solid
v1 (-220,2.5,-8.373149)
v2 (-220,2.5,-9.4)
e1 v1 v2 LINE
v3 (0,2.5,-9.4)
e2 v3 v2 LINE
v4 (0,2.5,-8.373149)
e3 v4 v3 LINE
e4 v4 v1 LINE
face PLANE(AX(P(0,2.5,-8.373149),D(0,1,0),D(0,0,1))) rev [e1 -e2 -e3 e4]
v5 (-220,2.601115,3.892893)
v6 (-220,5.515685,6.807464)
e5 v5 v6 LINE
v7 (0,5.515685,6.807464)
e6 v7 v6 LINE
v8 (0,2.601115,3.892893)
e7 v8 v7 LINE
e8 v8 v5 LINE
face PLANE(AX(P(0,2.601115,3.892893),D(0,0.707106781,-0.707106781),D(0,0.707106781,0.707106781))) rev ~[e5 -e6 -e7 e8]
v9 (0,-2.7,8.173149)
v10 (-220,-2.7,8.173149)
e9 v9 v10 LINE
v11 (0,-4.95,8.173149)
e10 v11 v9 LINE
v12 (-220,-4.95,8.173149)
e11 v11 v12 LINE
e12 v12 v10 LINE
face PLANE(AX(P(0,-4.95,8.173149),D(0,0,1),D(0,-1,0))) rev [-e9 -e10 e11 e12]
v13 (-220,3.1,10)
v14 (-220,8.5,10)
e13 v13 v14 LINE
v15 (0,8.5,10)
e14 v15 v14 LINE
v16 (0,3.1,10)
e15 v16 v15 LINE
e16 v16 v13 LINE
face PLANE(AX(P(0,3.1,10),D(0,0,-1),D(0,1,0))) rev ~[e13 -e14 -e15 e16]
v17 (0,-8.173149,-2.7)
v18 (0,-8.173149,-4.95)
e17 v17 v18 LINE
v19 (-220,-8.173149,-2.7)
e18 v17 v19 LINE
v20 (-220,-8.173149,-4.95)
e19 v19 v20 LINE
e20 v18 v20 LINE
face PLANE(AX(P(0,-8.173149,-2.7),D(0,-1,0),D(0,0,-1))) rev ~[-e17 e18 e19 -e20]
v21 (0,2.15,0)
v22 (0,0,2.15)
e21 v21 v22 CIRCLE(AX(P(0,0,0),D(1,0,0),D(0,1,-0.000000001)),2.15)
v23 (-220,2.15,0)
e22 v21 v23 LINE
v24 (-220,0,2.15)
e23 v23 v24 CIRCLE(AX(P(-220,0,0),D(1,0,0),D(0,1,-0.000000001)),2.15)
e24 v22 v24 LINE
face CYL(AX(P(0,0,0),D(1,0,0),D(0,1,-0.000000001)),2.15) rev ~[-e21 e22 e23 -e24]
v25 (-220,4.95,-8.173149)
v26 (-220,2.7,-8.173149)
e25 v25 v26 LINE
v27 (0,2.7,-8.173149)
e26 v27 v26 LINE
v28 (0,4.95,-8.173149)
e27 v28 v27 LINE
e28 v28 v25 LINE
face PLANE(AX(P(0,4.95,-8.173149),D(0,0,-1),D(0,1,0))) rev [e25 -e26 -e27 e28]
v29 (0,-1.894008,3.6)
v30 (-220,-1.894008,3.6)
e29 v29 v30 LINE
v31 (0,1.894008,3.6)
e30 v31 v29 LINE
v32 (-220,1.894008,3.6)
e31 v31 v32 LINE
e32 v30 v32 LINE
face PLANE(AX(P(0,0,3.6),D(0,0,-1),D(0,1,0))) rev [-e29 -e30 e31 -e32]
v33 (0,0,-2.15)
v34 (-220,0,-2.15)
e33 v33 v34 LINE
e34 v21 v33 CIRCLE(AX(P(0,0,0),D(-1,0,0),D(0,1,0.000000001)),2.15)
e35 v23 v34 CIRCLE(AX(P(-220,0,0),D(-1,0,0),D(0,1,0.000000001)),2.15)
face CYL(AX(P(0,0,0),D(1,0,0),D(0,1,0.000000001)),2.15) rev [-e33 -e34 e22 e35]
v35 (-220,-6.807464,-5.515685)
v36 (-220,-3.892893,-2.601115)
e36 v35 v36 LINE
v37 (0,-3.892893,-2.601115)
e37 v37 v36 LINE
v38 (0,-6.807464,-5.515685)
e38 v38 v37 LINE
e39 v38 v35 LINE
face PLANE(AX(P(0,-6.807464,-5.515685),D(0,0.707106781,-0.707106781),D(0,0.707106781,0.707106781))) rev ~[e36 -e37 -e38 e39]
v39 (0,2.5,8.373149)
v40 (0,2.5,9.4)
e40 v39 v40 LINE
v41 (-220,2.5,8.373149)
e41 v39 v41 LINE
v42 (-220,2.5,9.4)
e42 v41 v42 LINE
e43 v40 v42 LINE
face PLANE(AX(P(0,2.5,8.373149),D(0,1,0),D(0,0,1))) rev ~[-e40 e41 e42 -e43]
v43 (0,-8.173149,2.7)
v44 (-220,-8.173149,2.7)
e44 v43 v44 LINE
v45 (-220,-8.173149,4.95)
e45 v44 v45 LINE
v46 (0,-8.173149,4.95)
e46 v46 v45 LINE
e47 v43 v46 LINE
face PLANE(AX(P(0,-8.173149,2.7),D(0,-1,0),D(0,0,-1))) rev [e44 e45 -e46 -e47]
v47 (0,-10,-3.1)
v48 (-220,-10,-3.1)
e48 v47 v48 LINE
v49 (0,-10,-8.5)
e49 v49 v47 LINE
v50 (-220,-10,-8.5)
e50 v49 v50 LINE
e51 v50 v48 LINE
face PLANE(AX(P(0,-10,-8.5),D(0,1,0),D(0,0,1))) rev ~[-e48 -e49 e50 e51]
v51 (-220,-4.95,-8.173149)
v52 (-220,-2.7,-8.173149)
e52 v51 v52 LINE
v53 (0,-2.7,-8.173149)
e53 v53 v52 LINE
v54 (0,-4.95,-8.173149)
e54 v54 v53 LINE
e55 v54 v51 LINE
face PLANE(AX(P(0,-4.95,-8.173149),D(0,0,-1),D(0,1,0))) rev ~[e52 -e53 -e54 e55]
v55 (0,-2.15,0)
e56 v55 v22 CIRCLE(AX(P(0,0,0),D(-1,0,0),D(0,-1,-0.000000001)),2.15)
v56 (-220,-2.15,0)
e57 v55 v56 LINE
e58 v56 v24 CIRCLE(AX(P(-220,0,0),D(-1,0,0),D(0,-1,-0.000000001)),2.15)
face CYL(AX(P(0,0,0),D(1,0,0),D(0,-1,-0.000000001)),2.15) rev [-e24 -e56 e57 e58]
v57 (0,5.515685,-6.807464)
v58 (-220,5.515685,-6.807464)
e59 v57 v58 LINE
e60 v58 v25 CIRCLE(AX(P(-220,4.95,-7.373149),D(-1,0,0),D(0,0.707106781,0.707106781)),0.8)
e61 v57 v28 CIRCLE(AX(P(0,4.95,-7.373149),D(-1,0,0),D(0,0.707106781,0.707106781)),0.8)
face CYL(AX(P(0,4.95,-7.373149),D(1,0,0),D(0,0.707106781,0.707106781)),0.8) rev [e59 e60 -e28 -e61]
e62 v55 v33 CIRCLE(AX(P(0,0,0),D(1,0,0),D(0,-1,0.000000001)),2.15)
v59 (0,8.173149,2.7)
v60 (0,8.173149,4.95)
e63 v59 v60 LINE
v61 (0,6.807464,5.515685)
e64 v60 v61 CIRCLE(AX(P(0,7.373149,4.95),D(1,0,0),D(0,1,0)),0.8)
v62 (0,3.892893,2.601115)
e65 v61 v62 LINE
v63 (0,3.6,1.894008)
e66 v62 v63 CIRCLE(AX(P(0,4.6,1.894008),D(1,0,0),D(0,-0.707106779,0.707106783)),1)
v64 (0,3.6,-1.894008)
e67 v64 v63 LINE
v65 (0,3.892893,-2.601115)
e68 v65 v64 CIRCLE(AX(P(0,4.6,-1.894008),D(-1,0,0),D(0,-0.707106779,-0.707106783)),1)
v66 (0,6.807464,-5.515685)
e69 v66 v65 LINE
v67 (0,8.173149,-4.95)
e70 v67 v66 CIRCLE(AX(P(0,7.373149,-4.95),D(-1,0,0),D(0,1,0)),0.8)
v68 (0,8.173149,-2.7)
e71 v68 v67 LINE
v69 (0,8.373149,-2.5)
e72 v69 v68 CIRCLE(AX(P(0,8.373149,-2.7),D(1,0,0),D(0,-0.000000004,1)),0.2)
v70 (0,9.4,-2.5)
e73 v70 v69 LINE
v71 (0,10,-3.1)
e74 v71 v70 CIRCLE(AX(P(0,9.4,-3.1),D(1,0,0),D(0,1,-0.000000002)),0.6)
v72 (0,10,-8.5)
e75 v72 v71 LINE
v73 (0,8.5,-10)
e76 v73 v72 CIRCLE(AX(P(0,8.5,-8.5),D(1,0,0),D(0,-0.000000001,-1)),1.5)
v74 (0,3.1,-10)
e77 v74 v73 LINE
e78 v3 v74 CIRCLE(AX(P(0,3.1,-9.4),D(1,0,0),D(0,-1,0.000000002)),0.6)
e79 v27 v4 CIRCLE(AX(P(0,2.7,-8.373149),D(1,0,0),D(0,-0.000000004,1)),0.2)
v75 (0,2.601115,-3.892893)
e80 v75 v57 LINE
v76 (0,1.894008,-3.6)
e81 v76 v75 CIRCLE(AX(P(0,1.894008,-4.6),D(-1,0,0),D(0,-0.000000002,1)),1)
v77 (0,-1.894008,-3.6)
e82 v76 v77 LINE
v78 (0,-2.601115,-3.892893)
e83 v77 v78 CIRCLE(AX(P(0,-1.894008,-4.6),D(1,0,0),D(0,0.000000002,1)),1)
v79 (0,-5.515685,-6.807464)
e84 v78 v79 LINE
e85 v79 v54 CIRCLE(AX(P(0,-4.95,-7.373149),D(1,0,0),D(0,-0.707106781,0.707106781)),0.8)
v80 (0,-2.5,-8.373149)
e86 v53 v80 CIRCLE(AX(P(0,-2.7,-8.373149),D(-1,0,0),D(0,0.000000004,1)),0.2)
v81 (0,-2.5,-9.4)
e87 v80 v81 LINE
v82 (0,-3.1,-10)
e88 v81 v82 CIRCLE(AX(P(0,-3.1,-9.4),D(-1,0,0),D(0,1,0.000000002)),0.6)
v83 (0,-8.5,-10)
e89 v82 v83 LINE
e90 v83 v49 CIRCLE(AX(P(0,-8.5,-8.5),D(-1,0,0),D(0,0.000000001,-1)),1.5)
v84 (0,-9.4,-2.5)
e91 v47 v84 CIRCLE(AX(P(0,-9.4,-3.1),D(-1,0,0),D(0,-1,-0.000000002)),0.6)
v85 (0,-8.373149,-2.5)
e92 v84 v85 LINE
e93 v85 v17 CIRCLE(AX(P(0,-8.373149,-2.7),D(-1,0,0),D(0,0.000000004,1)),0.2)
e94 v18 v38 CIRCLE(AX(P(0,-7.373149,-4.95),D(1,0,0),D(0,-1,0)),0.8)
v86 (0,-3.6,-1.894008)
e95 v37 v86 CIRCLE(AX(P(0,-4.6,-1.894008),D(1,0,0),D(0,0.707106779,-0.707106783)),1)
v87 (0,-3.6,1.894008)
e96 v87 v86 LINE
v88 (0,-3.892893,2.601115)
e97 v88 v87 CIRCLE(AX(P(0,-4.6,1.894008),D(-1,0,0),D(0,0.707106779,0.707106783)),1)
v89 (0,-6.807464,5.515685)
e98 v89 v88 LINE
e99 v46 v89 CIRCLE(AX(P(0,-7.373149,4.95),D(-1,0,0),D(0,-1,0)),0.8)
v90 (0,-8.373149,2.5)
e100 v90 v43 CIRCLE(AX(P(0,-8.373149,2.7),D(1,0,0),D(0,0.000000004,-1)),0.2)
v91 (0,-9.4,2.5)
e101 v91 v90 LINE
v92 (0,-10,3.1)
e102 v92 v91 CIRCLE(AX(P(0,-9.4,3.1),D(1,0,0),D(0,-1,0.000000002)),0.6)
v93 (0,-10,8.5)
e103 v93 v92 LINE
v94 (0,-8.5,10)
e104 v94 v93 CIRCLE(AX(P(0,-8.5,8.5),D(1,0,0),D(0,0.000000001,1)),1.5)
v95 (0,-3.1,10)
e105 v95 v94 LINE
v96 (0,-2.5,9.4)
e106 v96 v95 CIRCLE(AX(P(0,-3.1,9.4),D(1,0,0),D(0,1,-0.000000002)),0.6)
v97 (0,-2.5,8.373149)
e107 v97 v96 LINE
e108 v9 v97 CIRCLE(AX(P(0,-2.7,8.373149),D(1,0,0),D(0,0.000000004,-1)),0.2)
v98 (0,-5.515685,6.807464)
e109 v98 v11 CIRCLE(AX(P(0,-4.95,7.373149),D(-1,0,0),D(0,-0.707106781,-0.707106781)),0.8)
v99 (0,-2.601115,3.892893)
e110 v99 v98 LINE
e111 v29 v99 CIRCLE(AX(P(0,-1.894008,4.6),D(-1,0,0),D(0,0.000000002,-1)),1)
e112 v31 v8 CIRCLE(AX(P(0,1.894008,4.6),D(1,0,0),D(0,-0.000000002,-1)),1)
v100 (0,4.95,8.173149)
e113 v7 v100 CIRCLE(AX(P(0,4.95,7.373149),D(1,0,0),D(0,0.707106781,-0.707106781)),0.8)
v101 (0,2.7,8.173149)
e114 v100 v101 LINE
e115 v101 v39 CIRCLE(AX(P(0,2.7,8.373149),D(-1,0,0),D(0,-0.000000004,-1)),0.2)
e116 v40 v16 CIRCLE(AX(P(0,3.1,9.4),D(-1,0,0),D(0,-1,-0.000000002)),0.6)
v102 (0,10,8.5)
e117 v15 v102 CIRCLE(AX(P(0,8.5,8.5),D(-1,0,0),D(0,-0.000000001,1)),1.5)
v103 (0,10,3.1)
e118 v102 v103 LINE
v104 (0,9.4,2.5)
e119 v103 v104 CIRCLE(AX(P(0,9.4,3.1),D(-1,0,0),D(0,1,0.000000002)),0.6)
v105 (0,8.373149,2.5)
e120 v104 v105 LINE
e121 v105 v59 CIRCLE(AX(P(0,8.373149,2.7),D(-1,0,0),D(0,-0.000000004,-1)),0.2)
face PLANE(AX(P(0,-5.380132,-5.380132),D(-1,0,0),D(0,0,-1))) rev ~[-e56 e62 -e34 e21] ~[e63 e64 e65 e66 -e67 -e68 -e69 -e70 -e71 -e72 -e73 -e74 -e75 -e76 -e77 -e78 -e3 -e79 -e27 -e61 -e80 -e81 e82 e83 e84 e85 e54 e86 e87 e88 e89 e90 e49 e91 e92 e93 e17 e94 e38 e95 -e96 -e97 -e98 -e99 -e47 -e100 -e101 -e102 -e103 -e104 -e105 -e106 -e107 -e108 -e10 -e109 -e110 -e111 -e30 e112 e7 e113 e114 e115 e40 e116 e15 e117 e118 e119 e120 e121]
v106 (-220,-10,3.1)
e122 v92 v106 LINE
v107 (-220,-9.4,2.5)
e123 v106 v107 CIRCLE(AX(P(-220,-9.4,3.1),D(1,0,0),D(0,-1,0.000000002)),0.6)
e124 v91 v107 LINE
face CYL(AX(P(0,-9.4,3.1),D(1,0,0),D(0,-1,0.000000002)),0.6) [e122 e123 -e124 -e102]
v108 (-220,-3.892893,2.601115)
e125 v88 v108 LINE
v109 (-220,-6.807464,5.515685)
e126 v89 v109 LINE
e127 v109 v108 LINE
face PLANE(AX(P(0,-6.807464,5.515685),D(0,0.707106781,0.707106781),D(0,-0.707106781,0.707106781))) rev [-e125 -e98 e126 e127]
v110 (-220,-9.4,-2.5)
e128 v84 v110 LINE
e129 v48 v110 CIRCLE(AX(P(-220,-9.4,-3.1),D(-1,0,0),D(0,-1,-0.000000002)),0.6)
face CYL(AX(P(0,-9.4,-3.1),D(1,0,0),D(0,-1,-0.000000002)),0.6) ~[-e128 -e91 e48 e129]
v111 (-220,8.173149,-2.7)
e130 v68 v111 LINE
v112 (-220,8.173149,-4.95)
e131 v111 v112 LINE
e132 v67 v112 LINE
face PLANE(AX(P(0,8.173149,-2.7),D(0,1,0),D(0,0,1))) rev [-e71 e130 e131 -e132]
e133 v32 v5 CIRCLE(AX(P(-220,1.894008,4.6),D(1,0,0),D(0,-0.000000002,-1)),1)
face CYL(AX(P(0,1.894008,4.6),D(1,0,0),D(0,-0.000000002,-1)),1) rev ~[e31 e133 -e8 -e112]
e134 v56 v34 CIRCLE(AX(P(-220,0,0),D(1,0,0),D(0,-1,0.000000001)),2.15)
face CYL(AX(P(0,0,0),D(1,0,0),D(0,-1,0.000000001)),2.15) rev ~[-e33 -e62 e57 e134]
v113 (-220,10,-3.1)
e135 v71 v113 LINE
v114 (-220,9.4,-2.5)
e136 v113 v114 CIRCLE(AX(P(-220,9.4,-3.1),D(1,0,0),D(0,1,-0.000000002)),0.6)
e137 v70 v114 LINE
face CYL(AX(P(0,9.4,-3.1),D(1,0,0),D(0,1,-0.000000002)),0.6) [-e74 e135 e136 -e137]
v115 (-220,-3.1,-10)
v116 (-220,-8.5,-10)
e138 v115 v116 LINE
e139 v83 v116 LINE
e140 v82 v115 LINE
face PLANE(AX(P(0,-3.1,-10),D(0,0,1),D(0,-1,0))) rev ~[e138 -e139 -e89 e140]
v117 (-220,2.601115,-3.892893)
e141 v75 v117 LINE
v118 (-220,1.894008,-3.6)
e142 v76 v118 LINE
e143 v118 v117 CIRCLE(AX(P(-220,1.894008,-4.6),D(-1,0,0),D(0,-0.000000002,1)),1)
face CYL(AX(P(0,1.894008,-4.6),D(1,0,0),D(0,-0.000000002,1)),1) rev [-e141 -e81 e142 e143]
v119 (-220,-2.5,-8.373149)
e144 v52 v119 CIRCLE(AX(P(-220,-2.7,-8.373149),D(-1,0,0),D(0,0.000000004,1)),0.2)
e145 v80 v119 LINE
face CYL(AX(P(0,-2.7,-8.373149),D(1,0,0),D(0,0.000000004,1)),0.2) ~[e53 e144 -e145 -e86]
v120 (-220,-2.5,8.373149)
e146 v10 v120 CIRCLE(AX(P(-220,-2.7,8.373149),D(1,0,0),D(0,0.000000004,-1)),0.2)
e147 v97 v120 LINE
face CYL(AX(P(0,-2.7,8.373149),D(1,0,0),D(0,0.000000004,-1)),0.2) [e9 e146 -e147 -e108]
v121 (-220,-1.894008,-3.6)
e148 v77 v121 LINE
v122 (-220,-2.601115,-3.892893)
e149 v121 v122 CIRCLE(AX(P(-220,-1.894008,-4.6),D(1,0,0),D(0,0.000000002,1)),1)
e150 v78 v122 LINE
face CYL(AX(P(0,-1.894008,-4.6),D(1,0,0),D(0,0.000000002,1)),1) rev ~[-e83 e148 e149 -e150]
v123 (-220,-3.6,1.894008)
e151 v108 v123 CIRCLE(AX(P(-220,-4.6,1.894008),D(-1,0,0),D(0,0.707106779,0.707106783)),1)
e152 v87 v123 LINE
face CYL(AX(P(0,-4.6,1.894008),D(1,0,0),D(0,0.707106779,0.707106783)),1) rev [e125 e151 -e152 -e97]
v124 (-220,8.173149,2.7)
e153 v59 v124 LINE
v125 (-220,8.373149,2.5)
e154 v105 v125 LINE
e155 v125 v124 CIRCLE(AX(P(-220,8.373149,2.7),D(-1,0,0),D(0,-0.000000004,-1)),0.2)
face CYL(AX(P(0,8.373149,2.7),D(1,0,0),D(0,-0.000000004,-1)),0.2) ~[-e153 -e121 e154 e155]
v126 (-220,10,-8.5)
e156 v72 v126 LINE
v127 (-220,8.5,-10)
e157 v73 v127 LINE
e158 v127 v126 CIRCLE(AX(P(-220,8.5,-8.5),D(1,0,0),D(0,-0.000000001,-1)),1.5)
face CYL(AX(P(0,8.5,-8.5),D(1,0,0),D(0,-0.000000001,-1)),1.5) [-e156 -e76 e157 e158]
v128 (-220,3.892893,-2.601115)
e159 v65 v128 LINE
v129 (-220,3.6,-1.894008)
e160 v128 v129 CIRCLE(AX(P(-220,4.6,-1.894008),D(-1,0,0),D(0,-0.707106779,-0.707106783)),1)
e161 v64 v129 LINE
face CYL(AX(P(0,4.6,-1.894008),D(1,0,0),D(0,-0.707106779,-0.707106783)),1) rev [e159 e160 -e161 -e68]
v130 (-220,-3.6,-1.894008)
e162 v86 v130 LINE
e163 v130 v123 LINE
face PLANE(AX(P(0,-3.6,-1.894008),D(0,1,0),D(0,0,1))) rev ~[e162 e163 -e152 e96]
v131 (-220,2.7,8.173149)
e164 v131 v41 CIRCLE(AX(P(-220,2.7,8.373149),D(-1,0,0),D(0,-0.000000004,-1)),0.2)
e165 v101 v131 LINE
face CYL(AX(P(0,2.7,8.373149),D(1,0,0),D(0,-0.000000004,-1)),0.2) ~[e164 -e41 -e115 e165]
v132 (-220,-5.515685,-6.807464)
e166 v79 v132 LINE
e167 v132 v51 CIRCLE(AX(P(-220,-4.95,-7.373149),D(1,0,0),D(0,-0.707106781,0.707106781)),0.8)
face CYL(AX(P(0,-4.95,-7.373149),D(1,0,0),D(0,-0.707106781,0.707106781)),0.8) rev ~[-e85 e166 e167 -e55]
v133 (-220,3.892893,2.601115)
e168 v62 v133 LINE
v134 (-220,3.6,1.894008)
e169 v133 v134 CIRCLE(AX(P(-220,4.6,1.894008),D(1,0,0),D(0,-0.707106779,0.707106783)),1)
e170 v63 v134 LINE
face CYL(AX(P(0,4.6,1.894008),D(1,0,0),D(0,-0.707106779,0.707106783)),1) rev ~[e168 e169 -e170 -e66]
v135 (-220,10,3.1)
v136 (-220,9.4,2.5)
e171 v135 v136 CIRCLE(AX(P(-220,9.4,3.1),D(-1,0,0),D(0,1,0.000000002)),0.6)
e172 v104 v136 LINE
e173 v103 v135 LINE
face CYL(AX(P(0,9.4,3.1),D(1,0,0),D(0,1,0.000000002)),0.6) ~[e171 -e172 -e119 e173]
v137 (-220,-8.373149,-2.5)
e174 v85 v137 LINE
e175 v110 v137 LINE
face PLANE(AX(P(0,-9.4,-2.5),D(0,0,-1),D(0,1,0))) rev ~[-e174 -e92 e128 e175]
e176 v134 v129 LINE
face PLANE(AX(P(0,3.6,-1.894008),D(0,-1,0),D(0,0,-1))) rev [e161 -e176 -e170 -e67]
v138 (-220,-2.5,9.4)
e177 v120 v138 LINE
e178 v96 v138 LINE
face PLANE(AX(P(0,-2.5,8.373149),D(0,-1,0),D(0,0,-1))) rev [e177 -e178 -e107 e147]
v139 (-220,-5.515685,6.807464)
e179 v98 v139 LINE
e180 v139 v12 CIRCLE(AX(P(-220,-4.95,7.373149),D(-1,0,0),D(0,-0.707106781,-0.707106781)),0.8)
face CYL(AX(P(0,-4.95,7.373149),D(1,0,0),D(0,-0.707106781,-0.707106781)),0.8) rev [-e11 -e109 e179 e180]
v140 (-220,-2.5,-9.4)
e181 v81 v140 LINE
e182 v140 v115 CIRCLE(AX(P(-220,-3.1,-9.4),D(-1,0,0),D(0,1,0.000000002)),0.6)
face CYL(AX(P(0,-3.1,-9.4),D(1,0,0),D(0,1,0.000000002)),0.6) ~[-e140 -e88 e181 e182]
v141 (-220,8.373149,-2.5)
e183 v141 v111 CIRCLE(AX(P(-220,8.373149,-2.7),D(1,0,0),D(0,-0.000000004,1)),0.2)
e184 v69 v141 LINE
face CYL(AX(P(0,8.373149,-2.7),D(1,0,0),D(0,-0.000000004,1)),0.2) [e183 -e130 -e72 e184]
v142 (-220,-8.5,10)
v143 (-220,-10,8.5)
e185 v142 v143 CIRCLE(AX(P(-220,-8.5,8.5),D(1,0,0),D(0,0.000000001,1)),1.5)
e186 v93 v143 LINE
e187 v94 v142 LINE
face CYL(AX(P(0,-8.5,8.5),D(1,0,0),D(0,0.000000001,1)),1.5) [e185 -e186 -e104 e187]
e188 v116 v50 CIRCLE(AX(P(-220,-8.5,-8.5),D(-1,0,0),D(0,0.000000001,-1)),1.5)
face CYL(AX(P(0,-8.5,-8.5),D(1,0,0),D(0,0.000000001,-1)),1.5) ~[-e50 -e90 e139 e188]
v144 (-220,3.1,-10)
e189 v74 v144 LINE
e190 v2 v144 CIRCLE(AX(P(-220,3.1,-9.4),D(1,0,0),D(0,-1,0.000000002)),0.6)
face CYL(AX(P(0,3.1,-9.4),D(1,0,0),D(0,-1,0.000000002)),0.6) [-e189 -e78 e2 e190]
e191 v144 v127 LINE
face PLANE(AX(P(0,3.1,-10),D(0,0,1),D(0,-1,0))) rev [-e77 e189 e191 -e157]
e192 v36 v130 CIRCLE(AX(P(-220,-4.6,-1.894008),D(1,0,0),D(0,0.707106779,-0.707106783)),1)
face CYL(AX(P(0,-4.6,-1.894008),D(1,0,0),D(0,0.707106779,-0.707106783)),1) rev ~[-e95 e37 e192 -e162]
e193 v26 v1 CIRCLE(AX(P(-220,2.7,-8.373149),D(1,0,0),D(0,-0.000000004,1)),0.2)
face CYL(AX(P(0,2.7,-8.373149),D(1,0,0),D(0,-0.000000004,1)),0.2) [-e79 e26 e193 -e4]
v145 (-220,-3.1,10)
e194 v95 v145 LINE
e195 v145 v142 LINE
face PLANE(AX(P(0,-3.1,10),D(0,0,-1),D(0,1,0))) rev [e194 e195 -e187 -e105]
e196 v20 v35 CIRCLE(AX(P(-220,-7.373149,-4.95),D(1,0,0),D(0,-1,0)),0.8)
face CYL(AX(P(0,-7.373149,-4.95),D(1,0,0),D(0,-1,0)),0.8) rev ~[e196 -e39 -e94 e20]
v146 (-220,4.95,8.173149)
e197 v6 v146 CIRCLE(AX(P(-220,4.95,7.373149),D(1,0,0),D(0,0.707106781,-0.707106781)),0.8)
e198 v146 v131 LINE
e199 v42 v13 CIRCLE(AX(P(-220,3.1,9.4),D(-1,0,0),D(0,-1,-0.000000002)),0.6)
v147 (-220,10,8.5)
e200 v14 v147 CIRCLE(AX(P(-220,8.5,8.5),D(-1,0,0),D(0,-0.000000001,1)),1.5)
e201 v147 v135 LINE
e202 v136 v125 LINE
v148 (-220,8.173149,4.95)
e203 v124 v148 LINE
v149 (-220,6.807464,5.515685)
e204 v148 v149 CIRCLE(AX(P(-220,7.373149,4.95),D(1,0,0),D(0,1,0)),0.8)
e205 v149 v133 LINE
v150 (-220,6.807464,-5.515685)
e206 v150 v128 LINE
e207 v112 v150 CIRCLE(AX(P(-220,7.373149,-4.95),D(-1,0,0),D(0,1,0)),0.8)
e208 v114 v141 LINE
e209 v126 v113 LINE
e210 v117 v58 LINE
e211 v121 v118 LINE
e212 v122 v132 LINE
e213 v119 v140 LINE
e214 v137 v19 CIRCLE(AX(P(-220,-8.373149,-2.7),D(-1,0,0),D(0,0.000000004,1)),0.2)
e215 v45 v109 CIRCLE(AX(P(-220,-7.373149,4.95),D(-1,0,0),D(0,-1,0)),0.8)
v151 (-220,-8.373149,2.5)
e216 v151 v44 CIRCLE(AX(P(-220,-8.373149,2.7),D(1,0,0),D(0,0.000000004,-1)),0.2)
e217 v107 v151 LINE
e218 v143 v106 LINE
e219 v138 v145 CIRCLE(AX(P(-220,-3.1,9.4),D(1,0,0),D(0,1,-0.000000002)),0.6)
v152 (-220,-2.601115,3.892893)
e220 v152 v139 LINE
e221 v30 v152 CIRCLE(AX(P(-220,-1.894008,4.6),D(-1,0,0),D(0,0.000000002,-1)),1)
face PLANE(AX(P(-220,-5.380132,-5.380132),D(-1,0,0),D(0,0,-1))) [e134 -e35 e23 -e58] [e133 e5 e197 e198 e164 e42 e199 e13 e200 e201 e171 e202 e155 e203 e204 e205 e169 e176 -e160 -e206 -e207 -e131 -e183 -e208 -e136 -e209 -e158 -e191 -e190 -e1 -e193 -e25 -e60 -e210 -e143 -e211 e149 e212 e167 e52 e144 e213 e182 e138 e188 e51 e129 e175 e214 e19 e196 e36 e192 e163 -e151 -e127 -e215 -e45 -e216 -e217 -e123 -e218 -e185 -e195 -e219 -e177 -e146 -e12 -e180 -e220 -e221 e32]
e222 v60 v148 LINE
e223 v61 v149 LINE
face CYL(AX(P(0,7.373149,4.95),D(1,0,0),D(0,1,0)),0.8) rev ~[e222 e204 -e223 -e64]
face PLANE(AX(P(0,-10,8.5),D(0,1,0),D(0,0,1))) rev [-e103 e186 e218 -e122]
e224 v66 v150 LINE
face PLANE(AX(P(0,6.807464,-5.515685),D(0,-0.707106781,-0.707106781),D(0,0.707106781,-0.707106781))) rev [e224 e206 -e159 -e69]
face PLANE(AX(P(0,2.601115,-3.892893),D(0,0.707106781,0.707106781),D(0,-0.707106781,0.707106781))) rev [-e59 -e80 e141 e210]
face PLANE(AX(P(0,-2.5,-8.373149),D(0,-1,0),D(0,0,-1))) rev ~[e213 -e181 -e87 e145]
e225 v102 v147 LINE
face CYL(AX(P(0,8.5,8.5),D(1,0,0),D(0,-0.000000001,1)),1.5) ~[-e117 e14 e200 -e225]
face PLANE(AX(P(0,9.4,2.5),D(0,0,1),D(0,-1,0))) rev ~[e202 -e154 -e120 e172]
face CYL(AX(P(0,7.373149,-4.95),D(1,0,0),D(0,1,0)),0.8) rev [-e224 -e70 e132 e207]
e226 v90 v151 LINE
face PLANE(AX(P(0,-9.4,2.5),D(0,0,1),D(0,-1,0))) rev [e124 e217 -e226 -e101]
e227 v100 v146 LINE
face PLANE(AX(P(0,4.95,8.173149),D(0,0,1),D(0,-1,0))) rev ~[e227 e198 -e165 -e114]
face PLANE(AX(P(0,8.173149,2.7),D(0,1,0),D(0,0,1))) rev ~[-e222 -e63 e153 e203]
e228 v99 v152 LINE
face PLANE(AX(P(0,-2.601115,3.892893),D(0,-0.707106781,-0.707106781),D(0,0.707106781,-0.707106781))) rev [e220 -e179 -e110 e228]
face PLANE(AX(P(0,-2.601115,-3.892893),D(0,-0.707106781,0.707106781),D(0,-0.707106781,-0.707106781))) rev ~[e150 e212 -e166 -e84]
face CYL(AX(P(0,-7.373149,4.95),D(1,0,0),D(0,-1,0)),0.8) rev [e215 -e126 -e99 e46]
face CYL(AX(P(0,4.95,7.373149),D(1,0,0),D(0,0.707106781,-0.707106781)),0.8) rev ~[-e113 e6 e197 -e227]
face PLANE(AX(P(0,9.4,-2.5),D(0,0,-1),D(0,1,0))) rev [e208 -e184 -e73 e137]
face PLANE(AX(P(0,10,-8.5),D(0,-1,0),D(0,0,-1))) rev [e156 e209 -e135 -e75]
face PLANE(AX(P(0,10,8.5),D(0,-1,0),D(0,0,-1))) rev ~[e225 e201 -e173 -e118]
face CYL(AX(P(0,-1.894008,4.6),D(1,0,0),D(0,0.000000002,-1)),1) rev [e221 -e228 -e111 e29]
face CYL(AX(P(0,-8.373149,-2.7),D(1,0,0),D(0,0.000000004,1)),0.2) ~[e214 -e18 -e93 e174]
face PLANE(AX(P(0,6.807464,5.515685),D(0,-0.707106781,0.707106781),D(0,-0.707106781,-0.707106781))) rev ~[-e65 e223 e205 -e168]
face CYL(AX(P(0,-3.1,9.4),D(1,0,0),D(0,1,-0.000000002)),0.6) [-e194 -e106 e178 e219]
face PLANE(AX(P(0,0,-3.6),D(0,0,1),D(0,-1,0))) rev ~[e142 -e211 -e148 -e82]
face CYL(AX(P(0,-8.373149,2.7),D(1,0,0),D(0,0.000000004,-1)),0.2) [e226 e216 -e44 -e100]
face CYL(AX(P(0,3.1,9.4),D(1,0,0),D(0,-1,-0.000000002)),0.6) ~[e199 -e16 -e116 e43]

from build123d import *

# Parameters (mm, degrees)
BOSS_EXTRUDE1_DEPTH = 220


with BuildPart() as part:
    # Sketch3 → Boss-Extrude1 (new body)
    with BuildSketch(Plane(origin=(0, 0, 0), x_dir=(0, 0, -1), z_dir=(1, 0, 0))):
        with BuildLine():
            Line((-5.515685425, 6.807463915), (-2.601114729, 3.892893219))
            ThreePointArc((-2.601114729, 3.892893219), (-2.27669138, 3.676120467), (-1.894007948, 3.6))
            Line((-1.894007948, 3.6), (0, 3.6))
            Line((0, 3.6), (0, 2.15))
            ThreePointArc((0, 2.15), (-1.52027958, 1.52027958), (-2.15, 0))
            Line((-2.15, 0), (-3.6, 0))
            Line((-3.6, 0), (-3.6, 1.894007948))
            ThreePointArc((-3.6, 1.894007948), (-3.676120467, 2.27669138), (-3.892893219, 2.601114729))
            Line((-3.892893219, 2.601114729), (-6.807463915, 5.515685425))
            ThreePointArc((-6.807463915, 5.515685425), (-7.679296086, 5.689103626), (-8.17314934, 4.95))
            Line((-8.17314934, 4.95), (-8.17314934, 2.7))
            ThreePointArc((-8.17314934, 2.7), (-8.231727984, 2.558578644), (-8.37314934, 2.5))
            Line((-8.37314934, 2.5), (-9.4, 2.5))
            ThreePointArc((-9.4, 2.5), (-9.824264069, 2.675735931), (-10, 3.1))
            Line((-10, 3.1), (-10, 8.5))
            ThreePointArc((-10, 8.5), (-9.560660172, 9.560660172), (-8.5, 10))
            Line((-8.5, 10), (-3.1, 10))
            ThreePointArc((-3.1, 10), (-2.675735931, 9.824264069), (-2.5, 9.4))
            Line((-2.5, 9.4), (-2.5, 8.37314934))
            ThreePointArc((-2.5, 8.37314934), (-2.558578644, 8.231727984), (-2.7, 8.17314934))
            Line((-2.7, 8.17314934), (-4.95, 8.17314934))
            ThreePointArc((-4.95, 8.17314934), (-5.689103626, 7.679296086), (-5.515685425, 6.807463915))
        make_face()
    extrude(amount=-BOSS_EXTRUDE1_DEPTH)

    # Mirror1: part across plane


with BuildPart() as part_1:
    add(part.part)
    add(part.part.mirror(Plane.ZX))

    # Mirror2: part across plane


with BuildPart() as part_2:
    add(part_1.part)
    add(part_1.part.mirror(Plane.XY))


solid = part_2.part
